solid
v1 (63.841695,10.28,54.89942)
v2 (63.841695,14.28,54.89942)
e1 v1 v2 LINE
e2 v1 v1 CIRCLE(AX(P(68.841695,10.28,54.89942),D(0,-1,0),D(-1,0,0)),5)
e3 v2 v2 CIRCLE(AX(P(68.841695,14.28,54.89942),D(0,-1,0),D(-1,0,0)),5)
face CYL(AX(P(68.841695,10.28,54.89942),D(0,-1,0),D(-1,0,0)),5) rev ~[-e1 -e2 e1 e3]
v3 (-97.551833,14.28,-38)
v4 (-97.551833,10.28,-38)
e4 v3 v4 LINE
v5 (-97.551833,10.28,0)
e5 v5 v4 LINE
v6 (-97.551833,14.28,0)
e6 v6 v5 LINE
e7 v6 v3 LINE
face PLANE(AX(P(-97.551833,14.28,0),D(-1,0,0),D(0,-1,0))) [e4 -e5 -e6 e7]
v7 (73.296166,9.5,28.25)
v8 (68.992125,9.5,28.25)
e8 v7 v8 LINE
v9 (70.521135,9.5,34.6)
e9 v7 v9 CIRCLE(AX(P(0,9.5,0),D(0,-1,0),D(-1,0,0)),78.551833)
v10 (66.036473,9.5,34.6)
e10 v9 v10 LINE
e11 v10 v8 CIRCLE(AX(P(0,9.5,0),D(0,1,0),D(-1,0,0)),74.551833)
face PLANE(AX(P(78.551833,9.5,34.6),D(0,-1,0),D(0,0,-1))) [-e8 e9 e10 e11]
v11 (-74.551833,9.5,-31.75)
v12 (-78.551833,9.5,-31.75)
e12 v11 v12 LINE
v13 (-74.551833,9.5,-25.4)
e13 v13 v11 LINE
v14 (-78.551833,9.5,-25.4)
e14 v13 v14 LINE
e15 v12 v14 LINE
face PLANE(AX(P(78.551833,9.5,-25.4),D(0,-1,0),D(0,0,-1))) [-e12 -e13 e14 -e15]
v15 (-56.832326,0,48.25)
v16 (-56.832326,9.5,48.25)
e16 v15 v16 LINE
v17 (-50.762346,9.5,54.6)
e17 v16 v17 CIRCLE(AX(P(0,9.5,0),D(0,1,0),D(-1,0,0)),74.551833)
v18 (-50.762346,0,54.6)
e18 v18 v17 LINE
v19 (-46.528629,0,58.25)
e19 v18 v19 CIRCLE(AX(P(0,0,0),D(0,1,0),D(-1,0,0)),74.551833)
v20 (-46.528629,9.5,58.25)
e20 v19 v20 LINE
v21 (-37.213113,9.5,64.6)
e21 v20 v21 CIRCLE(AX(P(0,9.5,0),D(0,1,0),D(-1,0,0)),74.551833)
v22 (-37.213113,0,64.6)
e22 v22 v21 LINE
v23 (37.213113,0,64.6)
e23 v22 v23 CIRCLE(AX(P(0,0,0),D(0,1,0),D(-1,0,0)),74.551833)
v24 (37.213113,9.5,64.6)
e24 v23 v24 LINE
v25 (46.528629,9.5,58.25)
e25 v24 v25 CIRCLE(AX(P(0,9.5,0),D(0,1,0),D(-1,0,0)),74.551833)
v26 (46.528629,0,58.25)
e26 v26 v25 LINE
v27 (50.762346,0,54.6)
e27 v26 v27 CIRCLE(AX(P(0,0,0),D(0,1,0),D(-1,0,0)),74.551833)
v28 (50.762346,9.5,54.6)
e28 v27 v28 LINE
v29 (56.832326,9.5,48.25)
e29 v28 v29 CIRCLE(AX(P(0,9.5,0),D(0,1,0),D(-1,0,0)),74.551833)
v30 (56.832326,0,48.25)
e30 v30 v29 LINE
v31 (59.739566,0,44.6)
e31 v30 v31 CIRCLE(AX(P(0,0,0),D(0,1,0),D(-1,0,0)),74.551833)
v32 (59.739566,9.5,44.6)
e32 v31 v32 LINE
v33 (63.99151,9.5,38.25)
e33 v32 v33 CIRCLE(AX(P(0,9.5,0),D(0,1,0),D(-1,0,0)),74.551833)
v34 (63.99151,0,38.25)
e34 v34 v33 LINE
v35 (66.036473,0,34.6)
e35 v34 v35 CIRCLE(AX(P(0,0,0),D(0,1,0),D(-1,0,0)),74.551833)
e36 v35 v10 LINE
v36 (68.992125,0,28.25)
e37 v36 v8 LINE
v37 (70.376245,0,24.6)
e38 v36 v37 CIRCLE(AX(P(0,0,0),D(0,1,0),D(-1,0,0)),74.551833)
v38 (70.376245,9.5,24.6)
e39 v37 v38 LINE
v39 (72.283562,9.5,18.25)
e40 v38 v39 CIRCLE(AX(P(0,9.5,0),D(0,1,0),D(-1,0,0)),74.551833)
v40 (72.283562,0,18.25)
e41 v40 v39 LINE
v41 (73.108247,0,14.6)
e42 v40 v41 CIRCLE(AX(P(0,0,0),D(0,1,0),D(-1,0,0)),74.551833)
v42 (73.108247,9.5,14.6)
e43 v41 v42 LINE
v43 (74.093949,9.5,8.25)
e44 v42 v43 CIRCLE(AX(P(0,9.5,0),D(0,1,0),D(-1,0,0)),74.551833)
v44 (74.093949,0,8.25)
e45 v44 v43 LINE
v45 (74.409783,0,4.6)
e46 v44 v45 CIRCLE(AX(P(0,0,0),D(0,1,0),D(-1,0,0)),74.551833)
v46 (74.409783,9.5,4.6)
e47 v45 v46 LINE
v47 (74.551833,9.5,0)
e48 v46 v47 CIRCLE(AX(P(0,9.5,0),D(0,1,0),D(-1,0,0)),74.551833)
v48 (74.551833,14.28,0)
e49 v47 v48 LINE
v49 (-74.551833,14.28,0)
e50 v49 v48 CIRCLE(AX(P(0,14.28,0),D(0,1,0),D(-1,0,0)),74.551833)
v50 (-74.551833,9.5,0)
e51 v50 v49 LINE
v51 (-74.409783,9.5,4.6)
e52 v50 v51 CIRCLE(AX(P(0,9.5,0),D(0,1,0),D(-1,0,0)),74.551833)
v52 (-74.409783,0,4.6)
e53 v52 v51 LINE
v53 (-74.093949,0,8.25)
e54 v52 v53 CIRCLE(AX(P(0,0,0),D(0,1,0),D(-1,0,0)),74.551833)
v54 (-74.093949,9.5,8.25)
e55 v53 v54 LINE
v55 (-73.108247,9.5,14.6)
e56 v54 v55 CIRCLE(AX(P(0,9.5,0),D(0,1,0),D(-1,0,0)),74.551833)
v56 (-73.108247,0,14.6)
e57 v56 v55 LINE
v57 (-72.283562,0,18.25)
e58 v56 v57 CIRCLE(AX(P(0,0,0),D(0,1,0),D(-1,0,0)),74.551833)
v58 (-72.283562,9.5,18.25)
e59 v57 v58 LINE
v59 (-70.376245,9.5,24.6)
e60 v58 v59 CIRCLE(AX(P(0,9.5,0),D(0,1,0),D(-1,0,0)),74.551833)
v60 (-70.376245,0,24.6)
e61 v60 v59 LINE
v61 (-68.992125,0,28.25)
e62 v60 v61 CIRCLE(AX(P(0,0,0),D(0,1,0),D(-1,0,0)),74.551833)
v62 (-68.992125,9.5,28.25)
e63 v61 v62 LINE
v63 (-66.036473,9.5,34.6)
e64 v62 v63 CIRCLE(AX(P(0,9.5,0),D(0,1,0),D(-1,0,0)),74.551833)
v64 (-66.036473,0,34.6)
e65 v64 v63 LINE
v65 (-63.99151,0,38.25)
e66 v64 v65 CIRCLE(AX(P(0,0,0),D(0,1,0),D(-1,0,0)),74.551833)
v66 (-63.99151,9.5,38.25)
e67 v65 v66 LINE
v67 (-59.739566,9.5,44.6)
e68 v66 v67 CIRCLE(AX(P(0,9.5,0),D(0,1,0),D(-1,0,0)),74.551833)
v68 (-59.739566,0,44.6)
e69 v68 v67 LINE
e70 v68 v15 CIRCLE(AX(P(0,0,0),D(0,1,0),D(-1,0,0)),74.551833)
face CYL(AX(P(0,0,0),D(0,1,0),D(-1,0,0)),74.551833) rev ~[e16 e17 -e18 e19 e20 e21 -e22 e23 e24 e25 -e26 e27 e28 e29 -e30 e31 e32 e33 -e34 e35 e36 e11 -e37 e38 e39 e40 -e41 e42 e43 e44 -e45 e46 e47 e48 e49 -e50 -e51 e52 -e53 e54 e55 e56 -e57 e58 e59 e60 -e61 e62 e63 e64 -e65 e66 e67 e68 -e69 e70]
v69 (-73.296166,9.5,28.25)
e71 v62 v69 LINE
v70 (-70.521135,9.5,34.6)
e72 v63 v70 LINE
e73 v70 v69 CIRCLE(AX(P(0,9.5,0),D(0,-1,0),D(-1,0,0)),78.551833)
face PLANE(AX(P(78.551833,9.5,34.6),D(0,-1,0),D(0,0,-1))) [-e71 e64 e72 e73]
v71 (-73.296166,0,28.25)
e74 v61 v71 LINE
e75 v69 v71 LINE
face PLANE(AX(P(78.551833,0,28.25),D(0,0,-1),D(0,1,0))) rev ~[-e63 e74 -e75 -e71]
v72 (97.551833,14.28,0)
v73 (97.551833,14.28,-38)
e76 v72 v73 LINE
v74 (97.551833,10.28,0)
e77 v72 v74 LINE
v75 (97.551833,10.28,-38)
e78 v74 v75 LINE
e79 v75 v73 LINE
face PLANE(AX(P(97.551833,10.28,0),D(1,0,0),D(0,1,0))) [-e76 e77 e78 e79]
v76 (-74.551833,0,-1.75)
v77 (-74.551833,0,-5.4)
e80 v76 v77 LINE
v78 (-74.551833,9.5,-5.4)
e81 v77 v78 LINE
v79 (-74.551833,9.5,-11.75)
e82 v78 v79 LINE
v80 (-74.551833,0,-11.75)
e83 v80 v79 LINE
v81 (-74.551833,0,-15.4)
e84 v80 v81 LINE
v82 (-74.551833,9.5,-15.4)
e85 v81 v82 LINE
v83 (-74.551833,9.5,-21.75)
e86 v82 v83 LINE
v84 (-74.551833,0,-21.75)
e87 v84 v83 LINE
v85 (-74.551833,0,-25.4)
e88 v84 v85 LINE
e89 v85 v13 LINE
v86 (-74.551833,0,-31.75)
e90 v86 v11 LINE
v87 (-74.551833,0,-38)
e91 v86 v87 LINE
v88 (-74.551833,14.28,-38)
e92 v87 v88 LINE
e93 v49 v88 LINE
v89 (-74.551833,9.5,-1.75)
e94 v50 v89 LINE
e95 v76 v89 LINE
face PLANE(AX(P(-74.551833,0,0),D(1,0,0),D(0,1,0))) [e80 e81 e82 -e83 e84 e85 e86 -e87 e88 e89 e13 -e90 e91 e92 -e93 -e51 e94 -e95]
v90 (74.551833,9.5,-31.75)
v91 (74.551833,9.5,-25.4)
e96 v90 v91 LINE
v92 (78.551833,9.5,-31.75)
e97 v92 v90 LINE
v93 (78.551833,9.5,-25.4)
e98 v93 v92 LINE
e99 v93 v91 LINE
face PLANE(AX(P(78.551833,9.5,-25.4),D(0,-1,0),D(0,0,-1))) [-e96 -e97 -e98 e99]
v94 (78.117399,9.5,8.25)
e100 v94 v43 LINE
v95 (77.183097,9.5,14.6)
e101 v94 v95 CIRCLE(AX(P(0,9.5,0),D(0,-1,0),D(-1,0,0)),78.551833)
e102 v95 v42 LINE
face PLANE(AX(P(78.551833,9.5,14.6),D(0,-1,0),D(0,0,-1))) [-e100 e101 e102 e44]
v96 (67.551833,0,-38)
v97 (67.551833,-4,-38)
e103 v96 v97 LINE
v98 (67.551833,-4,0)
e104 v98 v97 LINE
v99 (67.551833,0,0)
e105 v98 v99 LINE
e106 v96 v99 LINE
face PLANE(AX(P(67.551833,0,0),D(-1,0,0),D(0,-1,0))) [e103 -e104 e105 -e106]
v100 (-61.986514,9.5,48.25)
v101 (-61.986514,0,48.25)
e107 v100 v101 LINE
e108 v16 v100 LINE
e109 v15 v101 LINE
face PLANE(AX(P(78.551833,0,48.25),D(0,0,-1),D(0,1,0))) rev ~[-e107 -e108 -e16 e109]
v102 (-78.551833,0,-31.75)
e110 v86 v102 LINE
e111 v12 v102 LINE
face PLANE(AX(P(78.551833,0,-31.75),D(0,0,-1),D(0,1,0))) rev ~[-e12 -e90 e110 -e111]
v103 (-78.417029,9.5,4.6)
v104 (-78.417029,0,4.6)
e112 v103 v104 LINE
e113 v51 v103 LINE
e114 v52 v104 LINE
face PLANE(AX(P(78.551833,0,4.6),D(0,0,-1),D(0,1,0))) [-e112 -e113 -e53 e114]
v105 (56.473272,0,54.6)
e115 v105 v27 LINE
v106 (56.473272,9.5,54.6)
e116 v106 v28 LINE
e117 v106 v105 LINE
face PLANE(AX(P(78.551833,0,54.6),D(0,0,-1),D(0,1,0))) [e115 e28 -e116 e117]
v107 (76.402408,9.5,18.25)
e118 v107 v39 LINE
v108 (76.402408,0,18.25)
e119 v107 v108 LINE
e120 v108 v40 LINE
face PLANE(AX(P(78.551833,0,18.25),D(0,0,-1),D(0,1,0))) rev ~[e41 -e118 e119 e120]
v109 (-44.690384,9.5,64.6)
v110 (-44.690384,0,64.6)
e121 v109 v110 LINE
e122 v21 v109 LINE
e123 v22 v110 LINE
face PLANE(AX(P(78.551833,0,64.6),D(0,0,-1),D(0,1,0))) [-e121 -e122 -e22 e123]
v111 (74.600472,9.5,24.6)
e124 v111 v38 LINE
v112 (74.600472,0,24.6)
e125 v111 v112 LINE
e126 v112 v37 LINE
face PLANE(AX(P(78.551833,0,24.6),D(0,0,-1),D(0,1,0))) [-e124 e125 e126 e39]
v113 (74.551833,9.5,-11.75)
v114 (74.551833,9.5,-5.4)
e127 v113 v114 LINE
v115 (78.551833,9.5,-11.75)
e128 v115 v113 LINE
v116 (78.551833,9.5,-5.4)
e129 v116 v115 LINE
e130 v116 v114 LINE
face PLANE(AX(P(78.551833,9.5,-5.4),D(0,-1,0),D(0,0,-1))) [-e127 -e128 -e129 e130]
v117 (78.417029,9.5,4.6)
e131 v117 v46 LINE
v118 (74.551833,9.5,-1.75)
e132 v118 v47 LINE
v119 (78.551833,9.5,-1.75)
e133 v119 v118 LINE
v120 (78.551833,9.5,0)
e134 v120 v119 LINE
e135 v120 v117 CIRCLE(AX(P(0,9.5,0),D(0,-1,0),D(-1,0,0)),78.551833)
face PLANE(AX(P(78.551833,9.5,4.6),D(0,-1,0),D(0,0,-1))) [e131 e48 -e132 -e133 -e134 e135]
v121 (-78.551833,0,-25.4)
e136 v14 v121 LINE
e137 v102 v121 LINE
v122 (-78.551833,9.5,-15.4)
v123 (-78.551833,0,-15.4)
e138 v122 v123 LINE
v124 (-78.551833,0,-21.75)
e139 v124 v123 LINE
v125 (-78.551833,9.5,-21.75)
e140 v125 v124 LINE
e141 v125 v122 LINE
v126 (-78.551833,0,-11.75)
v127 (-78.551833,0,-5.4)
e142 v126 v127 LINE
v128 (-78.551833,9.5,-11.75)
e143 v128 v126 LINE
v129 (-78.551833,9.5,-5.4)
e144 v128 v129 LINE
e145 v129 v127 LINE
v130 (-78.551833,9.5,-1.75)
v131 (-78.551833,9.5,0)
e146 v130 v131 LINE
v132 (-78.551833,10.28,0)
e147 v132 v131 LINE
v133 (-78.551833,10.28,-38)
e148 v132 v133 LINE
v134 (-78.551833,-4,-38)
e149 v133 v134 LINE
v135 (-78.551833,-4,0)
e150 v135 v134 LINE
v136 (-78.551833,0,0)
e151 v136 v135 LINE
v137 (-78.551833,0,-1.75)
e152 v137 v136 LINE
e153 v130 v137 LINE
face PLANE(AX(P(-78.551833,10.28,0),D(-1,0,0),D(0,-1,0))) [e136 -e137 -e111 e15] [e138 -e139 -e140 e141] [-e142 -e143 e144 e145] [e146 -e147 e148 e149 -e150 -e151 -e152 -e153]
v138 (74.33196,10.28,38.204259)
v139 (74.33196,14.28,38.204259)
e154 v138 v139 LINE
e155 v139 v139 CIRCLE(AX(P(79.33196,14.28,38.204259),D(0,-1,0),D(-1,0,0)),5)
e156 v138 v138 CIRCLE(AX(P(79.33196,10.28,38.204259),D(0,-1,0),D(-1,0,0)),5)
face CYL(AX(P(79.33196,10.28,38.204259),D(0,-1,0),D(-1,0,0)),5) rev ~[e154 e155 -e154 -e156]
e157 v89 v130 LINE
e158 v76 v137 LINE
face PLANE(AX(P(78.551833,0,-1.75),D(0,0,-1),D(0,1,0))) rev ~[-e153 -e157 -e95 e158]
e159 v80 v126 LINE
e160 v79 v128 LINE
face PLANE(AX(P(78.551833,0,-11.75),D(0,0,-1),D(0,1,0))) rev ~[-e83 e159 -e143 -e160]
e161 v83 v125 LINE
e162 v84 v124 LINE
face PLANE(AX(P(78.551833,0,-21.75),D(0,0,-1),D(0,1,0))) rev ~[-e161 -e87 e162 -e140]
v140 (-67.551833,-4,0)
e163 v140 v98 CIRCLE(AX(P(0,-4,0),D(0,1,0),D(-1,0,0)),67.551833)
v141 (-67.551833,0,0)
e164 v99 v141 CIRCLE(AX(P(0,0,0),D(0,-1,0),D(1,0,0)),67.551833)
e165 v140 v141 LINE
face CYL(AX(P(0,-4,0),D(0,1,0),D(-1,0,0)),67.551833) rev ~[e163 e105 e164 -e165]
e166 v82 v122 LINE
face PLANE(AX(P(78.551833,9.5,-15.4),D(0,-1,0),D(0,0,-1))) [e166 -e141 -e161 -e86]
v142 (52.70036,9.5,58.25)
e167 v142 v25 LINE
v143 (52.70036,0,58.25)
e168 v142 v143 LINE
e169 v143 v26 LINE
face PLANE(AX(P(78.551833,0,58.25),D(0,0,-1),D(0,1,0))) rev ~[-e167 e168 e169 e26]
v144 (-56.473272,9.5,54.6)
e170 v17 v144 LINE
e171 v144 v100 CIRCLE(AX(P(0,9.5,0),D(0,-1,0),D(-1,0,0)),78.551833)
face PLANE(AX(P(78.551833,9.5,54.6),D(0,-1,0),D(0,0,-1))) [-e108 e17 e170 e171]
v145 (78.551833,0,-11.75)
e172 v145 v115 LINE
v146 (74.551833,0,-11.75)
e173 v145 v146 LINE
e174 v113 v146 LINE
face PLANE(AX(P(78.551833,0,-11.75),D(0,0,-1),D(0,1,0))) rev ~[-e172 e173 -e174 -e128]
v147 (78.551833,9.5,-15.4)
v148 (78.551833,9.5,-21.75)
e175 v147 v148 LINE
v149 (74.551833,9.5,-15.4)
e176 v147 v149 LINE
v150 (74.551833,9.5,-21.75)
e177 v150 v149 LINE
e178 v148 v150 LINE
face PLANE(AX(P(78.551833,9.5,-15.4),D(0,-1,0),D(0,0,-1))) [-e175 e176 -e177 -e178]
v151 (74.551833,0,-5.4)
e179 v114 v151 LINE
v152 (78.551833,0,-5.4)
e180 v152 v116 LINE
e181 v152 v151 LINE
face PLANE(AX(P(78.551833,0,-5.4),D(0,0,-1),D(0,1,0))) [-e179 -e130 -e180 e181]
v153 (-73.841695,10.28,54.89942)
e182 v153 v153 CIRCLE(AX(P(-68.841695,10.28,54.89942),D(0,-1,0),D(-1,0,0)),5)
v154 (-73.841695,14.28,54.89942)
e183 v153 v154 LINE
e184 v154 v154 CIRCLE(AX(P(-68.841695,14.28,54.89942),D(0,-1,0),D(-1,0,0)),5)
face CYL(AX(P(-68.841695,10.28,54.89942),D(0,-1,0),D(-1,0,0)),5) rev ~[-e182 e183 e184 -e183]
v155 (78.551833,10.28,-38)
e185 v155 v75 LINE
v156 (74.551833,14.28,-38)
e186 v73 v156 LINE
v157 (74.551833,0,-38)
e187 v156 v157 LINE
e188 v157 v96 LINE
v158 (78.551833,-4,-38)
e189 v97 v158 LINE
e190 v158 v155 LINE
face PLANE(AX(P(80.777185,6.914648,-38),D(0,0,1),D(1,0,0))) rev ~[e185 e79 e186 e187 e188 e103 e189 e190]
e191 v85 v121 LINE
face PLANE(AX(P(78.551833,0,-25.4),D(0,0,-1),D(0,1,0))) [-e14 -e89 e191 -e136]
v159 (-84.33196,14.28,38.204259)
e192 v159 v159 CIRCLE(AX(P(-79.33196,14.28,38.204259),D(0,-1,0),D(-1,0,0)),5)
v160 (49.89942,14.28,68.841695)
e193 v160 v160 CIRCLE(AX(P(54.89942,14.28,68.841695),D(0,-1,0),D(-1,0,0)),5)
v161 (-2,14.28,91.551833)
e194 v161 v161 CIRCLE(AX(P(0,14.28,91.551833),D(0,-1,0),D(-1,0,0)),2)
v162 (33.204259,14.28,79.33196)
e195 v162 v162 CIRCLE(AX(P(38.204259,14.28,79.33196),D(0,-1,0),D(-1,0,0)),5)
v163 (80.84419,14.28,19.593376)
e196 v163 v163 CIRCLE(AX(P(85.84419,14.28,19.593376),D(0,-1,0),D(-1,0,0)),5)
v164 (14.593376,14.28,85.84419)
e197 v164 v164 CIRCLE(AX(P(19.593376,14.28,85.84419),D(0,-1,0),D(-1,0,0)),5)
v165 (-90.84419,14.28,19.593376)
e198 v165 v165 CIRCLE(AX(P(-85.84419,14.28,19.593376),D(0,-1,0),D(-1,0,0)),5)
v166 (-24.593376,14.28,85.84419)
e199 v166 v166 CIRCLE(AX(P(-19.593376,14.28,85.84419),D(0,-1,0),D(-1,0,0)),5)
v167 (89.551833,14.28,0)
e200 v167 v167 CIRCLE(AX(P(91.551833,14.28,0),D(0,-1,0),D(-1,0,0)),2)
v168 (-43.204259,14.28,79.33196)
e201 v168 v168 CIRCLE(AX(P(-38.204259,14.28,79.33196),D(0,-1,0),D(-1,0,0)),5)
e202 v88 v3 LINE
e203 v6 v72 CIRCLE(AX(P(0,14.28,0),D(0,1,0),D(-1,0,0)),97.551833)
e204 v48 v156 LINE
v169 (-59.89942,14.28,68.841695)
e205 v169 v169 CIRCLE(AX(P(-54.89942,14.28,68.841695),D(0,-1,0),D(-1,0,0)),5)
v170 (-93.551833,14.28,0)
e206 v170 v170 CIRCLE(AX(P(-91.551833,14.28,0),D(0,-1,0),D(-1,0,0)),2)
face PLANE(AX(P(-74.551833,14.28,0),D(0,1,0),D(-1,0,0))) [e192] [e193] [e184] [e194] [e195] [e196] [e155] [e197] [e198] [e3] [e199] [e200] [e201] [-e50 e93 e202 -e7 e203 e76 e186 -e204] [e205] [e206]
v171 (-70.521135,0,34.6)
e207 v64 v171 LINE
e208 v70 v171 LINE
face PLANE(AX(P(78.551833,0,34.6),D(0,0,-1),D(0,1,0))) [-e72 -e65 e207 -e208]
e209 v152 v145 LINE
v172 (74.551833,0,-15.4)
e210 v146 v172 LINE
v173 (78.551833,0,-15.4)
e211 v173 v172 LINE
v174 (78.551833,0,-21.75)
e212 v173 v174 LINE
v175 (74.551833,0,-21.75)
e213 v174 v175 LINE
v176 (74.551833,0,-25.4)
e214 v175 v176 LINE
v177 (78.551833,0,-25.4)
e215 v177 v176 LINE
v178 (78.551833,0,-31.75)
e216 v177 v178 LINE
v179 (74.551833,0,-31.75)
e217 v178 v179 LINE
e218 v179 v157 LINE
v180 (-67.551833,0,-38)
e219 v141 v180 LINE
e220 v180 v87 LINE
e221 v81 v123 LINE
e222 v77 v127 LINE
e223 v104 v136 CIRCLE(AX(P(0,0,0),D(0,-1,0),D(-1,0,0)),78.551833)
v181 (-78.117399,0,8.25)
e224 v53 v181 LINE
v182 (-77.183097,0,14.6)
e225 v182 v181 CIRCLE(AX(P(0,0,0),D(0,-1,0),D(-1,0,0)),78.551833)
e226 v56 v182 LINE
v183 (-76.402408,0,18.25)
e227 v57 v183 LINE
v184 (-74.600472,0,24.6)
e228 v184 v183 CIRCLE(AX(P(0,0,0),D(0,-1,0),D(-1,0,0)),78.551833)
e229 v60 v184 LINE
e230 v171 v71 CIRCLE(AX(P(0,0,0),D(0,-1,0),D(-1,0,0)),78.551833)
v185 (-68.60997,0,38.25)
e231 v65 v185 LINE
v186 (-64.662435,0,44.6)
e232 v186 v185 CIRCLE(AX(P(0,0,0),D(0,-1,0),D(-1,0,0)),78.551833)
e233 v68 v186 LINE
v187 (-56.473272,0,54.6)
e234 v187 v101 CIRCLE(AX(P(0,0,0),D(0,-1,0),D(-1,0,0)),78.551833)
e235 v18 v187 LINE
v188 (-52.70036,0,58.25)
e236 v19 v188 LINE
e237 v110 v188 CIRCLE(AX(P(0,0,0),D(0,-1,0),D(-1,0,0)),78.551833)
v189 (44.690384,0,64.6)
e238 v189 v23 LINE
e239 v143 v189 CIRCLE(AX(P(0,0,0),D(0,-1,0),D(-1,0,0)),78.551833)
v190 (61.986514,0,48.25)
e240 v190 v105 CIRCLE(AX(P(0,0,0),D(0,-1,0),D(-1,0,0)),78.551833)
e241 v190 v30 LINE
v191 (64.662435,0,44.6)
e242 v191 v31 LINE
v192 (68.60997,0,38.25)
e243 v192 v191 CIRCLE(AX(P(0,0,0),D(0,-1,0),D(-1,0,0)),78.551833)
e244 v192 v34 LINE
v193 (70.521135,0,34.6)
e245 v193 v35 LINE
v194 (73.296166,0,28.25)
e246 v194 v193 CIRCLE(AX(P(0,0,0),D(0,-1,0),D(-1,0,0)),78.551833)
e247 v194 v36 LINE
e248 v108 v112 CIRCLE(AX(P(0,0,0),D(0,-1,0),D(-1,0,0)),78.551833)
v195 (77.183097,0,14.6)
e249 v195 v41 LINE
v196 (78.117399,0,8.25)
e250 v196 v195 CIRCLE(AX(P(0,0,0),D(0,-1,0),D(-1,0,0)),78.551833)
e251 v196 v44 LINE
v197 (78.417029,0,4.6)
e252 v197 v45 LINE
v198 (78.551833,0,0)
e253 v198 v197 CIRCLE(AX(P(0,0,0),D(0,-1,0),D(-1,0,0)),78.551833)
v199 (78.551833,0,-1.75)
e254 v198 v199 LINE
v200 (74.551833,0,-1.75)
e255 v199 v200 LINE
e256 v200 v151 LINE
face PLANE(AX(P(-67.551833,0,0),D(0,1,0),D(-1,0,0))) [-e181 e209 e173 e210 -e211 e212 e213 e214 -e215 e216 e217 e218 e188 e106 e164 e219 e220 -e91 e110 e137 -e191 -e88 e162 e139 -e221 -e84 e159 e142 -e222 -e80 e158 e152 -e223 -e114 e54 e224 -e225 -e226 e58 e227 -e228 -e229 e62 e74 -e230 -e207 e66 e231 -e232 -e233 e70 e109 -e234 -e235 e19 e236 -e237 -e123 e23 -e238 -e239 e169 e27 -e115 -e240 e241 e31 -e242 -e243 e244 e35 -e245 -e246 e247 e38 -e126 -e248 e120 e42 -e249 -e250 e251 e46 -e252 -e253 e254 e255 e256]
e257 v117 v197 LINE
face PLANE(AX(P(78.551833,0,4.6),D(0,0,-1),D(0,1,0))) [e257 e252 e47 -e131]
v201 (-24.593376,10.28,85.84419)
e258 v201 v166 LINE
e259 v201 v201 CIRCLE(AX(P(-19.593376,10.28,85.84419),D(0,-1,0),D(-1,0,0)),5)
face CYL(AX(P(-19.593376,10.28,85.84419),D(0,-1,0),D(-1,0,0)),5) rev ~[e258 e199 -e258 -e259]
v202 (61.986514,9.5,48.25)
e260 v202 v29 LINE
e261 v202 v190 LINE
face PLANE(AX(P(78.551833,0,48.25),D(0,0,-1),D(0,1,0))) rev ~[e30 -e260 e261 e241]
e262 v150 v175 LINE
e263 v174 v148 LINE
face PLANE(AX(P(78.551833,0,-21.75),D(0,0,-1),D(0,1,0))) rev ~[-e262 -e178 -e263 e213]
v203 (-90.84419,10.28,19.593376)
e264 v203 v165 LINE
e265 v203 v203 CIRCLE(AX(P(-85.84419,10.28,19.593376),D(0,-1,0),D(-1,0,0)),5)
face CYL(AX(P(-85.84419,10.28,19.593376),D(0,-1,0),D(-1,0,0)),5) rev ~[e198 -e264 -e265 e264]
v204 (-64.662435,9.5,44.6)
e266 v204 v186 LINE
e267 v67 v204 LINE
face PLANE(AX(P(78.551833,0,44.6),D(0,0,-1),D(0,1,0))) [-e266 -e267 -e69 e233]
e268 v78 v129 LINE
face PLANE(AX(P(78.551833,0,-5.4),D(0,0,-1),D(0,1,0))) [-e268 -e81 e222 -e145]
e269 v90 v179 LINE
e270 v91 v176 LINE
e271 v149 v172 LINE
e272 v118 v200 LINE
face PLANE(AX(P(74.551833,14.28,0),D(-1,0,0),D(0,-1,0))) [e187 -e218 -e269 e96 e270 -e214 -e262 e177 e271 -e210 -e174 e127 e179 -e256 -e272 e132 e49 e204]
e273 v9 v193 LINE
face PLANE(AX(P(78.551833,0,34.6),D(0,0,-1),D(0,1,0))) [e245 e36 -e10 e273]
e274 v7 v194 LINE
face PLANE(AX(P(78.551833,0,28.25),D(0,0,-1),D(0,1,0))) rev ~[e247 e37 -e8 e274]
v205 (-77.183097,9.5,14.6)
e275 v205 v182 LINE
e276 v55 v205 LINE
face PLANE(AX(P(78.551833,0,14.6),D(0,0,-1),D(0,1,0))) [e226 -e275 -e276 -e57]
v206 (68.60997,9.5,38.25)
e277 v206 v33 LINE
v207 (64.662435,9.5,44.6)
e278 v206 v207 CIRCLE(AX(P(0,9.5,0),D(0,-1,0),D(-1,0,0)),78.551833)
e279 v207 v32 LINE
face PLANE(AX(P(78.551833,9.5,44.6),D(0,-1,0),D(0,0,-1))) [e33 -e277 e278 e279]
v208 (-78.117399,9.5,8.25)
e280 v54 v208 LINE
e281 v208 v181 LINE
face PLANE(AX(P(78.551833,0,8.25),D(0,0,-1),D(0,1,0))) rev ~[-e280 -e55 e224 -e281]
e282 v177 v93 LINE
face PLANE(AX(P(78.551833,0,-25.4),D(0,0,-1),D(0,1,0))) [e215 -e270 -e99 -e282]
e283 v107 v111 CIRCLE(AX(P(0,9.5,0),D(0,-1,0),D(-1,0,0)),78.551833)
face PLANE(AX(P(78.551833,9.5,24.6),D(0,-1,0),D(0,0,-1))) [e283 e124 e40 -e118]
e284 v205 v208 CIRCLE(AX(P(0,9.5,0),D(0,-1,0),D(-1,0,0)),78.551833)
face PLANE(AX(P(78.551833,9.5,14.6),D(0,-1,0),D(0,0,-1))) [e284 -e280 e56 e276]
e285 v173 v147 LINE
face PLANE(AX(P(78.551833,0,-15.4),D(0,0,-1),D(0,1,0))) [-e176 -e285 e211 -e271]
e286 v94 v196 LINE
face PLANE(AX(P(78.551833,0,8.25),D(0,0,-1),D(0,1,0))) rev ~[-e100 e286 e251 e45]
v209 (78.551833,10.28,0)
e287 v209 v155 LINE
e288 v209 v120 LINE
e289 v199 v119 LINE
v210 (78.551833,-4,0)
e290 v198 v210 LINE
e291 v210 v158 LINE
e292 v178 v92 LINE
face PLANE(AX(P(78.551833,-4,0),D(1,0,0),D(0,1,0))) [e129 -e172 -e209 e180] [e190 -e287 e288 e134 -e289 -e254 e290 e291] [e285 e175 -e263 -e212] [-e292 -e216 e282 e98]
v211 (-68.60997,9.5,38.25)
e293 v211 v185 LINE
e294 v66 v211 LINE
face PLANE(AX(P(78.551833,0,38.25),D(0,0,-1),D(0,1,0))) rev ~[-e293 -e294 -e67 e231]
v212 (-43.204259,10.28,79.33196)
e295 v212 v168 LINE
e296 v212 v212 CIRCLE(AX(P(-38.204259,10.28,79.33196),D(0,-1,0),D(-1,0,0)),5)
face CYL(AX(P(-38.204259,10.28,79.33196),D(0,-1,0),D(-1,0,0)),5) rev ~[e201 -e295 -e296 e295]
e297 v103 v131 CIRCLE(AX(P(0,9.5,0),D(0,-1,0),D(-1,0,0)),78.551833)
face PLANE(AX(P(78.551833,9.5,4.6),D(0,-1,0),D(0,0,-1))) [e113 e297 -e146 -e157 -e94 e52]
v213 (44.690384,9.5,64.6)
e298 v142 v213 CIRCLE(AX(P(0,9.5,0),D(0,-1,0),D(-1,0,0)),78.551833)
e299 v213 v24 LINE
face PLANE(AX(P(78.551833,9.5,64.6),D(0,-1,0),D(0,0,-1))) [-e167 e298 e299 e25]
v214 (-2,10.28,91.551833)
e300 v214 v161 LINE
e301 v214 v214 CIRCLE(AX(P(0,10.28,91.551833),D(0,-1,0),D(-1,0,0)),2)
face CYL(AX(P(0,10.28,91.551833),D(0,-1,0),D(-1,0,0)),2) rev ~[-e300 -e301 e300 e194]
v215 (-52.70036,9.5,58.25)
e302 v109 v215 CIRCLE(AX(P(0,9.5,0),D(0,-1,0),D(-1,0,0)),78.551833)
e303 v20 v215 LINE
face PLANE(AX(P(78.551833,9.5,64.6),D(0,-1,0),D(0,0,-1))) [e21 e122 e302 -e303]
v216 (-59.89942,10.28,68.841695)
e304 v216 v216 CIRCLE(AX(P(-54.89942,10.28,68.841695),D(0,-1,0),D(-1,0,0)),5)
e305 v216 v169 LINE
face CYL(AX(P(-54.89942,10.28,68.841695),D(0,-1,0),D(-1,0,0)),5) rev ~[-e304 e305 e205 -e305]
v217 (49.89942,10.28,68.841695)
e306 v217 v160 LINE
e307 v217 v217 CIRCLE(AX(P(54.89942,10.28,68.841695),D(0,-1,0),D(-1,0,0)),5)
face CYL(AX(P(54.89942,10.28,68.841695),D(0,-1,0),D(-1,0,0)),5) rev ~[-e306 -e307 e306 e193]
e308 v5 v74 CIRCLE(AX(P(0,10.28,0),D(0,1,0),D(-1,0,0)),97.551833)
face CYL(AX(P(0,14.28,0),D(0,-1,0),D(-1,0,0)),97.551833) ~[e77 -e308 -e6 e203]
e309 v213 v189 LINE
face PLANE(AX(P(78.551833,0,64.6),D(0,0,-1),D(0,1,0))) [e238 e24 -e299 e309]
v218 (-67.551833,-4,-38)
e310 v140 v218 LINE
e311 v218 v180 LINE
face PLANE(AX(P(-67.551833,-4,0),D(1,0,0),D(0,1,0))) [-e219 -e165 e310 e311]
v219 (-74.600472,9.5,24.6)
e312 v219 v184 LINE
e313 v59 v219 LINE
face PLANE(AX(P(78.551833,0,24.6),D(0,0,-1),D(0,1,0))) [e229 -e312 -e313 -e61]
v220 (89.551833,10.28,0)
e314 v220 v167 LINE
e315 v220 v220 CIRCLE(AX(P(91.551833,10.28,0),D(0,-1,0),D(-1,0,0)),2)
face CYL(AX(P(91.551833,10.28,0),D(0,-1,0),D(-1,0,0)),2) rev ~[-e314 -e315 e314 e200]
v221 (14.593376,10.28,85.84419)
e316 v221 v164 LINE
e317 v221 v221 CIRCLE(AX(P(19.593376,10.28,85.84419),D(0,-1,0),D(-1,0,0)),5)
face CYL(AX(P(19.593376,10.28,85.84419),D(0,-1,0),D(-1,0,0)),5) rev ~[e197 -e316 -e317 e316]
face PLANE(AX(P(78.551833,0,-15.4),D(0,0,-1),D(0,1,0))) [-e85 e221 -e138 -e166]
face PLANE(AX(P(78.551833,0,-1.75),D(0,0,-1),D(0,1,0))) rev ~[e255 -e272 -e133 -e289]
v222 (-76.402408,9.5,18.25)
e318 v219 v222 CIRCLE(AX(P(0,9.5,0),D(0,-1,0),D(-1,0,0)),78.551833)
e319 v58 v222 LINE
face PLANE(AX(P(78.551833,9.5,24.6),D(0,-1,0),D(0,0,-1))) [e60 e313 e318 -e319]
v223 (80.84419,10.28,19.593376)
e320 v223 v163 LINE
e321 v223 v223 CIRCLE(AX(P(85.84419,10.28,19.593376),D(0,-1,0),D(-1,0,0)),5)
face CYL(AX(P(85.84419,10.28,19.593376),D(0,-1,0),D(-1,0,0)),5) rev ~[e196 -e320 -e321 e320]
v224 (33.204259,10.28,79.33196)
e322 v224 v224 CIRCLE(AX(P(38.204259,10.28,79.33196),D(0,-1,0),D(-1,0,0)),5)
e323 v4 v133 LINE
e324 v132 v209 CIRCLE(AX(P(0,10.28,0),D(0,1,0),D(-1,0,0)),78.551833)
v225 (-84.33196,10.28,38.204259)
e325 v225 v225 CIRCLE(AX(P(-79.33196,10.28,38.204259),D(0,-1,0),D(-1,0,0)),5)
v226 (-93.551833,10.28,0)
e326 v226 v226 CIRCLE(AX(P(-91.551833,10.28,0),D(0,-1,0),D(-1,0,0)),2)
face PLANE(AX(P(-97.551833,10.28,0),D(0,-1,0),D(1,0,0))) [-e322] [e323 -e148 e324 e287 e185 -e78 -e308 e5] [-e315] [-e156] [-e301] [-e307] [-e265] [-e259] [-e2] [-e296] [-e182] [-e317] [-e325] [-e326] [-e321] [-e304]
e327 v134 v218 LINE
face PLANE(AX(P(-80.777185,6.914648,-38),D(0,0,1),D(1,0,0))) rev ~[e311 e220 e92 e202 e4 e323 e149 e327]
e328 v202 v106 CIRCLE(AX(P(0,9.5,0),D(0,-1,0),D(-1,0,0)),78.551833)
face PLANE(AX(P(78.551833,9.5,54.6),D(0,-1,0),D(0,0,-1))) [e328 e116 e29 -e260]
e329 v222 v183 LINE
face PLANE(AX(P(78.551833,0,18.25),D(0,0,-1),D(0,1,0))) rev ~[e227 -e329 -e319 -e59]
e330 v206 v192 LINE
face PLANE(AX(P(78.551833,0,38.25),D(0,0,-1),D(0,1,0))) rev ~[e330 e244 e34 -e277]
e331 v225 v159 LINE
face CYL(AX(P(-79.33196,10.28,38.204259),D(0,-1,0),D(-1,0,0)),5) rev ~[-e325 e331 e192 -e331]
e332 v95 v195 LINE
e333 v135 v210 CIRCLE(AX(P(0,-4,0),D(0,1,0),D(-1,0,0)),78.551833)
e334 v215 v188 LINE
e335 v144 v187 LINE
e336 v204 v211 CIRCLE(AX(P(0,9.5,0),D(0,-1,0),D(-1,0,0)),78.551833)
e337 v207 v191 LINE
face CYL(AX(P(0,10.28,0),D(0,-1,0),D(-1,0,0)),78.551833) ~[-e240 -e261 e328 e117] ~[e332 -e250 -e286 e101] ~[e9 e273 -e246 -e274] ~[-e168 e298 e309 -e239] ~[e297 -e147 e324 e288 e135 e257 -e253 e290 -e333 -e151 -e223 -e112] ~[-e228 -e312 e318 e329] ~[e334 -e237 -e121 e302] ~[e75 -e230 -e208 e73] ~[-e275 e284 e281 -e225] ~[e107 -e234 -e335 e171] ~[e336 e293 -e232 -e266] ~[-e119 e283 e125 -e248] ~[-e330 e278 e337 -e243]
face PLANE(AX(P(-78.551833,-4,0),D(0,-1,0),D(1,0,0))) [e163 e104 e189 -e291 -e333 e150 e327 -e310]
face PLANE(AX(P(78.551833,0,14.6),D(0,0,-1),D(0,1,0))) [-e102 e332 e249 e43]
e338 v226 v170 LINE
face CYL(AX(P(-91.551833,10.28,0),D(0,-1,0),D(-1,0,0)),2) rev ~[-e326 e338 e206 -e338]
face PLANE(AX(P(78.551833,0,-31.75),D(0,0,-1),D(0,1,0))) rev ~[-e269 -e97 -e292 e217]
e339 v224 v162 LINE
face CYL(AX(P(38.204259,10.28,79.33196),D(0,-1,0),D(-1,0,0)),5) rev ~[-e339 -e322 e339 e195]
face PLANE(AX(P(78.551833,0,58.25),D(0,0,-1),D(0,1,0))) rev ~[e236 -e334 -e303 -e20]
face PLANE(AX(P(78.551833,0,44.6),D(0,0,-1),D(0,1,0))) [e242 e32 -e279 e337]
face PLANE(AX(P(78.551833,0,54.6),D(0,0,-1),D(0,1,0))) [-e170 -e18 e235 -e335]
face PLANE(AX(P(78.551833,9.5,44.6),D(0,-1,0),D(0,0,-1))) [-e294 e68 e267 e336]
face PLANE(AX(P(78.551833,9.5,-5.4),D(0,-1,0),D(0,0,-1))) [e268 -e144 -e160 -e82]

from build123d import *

# Parameters (mm, degrees)
REVOLVE1_ANGLE      = 180
BOSS_EXTRUDE1_DEPTH = 38
BOSS_EXTRUDE2_DEPTH = 38
SKETCH4_R           = 2
SKETCH4_R_2         = 5
CUT_EXTRUDE1_DEPTH  = 5
SKETCH5_W           = 6.35
SKETCH5_H           = 9.5
CUT_EXTRUDE2_DEPTH  = 177.103665874


with BuildPart() as part:
    # Sketch1 → Revolve1 (revolve)
    with BuildSketch(Plane.XY):
        Polygon((-74.551832937, 0), (-74.551832937, 14.28), (-78.551832937, 14.28), (-97.551832937, 14.28), (-97.551832937, 10.28), (-78.551832937, 10.28), (-78.551832937, -4), (-67.551832937, -4), (-67.551832937, 0), align=None)
    revolve(axis=Axis((0, 0, 0), (0, 1, 0)), revolution_arc=REVOLVE1_ANGLE)

    # Sketch3 → Boss-Extrude1 (add)
    with BuildSketch(Plane(origin=(0, 0, 0), x_dir=(-1, 0, 0), z_dir=(0, 0, -1))):
        Polygon((-97.551832937, 14.28), (-74.551832937, 14.28), (-74.551832937, 0), (-67.551832937, 0), (-67.551832937, -4), (-78.551832937, -4), (-78.551832937, 10.28), (-97.551832937, 10.28), align=None)
    extrude(amount=BOSS_EXTRUDE1_DEPTH)

    # Sketch1<2> → Boss-Extrude2 (add)
    with BuildSketch(Plane.XY):
        Polygon((-74.551832937, 0), (-74.551832937, 14.28), (-78.551832937, 14.28), (-97.551832937, 14.28), (-97.551832937, 10.28), (-78.551832937, 10.28), (-78.551832937, -4), (-67.551832937, -4), (-67.551832937, 0), align=None)
    extrude(amount=-BOSS_EXTRUDE2_DEPTH)

    # Sketch4 → Cut-Extrude1 (cut, through all)
    with BuildSketch(Plane(origin=(0, 10.28, 0), x_dir=(-1, 0, 0), z_dir=(0, -1, 0))):
        with Locations((0, -91.551832937)):
            Circle(SKETCH4_R)
        with Locations((-91.551832937, 0)):
            Circle(SKETCH4_R)
        with Locations((91.551832937, 0)):
            Circle(SKETCH4_R)
        with Locations((85.844189649, -19.593376102)):
            Circle(SKETCH4_R_2)
        with Locations((79.331960238, -38.204258511)):
            Circle(SKETCH4_R_2)
        with Locations((68.841695079, -54.899419871)):
            Circle(SKETCH4_R_2)
        with Locations((54.899419871, -68.841695079)):
            Circle(SKETCH4_R_2)
        with Locations((38.204258511, -79.331960238)):
            Circle(SKETCH4_R_2)
        with Locations((19.593376102, -85.844189649)):
            Circle(SKETCH4_R_2)
        with Locations((-19.593376102, -85.844189649)):
            Circle(SKETCH4_R_2)
        with Locations((-38.204258511, -79.331960238)):
            Circle(SKETCH4_R_2)
        with Locations((-54.899419871, -68.841695079)):
            Circle(SKETCH4_R_2)
        with Locations((-68.841695079, -54.899419871)):
            Circle(SKETCH4_R_2)
        with Locations((-79.331960238, -38.204258511)):
            Circle(SKETCH4_R_2)
        with Locations((-85.844189649, -19.593376102)):
            Circle(SKETCH4_R_2)
    extrude(amount=-CUT_EXTRUDE1_DEPTH, mode=Mode.SUBTRACT)

    # Sketch5 → Cut-Extrude2 (cut, through all)
    with BuildSketch(Plane(origin=(78.551832937, 0, 0), x_dir=(0, 0, -1), z_dir=(1, 0, 0))):
        with Locations((28.575, 4.75)):
            Rectangle(SKETCH5_W, SKETCH5_H)
        with Locations((18.575, 4.75)):
            Rectangle(SKETCH5_W, SKETCH5_H)
        with Locations((8.575, 4.75)):
            Rectangle(SKETCH5_W, SKETCH5_H)
        with Locations((-1.425, 4.75)):
            Rectangle(SKETCH5_W, SKETCH5_H)
        with Locations((-11.425, 4.75)):
            Rectangle(SKETCH5_W, SKETCH5_H)
        with Locations((-21.425, 4.75)):
            Rectangle(SKETCH5_W, SKETCH5_H)
        with Locations((-31.425, 4.75)):
            Rectangle(SKETCH5_W, SKETCH5_H)
        with Locations((-41.425, 4.75)):
            Rectangle(SKETCH5_W, SKETCH5_H)
        with Locations((-51.425, 4.75)):
            Rectangle(SKETCH5_W, SKETCH5_H)
        with Locations((-61.425, 4.75)):
            Rectangle(SKETCH5_W, SKETCH5_H)
    extrude(amount=-CUT_EXTRUDE2_DEPTH, mode=Mode.SUBTRACT)


solid = part.part
